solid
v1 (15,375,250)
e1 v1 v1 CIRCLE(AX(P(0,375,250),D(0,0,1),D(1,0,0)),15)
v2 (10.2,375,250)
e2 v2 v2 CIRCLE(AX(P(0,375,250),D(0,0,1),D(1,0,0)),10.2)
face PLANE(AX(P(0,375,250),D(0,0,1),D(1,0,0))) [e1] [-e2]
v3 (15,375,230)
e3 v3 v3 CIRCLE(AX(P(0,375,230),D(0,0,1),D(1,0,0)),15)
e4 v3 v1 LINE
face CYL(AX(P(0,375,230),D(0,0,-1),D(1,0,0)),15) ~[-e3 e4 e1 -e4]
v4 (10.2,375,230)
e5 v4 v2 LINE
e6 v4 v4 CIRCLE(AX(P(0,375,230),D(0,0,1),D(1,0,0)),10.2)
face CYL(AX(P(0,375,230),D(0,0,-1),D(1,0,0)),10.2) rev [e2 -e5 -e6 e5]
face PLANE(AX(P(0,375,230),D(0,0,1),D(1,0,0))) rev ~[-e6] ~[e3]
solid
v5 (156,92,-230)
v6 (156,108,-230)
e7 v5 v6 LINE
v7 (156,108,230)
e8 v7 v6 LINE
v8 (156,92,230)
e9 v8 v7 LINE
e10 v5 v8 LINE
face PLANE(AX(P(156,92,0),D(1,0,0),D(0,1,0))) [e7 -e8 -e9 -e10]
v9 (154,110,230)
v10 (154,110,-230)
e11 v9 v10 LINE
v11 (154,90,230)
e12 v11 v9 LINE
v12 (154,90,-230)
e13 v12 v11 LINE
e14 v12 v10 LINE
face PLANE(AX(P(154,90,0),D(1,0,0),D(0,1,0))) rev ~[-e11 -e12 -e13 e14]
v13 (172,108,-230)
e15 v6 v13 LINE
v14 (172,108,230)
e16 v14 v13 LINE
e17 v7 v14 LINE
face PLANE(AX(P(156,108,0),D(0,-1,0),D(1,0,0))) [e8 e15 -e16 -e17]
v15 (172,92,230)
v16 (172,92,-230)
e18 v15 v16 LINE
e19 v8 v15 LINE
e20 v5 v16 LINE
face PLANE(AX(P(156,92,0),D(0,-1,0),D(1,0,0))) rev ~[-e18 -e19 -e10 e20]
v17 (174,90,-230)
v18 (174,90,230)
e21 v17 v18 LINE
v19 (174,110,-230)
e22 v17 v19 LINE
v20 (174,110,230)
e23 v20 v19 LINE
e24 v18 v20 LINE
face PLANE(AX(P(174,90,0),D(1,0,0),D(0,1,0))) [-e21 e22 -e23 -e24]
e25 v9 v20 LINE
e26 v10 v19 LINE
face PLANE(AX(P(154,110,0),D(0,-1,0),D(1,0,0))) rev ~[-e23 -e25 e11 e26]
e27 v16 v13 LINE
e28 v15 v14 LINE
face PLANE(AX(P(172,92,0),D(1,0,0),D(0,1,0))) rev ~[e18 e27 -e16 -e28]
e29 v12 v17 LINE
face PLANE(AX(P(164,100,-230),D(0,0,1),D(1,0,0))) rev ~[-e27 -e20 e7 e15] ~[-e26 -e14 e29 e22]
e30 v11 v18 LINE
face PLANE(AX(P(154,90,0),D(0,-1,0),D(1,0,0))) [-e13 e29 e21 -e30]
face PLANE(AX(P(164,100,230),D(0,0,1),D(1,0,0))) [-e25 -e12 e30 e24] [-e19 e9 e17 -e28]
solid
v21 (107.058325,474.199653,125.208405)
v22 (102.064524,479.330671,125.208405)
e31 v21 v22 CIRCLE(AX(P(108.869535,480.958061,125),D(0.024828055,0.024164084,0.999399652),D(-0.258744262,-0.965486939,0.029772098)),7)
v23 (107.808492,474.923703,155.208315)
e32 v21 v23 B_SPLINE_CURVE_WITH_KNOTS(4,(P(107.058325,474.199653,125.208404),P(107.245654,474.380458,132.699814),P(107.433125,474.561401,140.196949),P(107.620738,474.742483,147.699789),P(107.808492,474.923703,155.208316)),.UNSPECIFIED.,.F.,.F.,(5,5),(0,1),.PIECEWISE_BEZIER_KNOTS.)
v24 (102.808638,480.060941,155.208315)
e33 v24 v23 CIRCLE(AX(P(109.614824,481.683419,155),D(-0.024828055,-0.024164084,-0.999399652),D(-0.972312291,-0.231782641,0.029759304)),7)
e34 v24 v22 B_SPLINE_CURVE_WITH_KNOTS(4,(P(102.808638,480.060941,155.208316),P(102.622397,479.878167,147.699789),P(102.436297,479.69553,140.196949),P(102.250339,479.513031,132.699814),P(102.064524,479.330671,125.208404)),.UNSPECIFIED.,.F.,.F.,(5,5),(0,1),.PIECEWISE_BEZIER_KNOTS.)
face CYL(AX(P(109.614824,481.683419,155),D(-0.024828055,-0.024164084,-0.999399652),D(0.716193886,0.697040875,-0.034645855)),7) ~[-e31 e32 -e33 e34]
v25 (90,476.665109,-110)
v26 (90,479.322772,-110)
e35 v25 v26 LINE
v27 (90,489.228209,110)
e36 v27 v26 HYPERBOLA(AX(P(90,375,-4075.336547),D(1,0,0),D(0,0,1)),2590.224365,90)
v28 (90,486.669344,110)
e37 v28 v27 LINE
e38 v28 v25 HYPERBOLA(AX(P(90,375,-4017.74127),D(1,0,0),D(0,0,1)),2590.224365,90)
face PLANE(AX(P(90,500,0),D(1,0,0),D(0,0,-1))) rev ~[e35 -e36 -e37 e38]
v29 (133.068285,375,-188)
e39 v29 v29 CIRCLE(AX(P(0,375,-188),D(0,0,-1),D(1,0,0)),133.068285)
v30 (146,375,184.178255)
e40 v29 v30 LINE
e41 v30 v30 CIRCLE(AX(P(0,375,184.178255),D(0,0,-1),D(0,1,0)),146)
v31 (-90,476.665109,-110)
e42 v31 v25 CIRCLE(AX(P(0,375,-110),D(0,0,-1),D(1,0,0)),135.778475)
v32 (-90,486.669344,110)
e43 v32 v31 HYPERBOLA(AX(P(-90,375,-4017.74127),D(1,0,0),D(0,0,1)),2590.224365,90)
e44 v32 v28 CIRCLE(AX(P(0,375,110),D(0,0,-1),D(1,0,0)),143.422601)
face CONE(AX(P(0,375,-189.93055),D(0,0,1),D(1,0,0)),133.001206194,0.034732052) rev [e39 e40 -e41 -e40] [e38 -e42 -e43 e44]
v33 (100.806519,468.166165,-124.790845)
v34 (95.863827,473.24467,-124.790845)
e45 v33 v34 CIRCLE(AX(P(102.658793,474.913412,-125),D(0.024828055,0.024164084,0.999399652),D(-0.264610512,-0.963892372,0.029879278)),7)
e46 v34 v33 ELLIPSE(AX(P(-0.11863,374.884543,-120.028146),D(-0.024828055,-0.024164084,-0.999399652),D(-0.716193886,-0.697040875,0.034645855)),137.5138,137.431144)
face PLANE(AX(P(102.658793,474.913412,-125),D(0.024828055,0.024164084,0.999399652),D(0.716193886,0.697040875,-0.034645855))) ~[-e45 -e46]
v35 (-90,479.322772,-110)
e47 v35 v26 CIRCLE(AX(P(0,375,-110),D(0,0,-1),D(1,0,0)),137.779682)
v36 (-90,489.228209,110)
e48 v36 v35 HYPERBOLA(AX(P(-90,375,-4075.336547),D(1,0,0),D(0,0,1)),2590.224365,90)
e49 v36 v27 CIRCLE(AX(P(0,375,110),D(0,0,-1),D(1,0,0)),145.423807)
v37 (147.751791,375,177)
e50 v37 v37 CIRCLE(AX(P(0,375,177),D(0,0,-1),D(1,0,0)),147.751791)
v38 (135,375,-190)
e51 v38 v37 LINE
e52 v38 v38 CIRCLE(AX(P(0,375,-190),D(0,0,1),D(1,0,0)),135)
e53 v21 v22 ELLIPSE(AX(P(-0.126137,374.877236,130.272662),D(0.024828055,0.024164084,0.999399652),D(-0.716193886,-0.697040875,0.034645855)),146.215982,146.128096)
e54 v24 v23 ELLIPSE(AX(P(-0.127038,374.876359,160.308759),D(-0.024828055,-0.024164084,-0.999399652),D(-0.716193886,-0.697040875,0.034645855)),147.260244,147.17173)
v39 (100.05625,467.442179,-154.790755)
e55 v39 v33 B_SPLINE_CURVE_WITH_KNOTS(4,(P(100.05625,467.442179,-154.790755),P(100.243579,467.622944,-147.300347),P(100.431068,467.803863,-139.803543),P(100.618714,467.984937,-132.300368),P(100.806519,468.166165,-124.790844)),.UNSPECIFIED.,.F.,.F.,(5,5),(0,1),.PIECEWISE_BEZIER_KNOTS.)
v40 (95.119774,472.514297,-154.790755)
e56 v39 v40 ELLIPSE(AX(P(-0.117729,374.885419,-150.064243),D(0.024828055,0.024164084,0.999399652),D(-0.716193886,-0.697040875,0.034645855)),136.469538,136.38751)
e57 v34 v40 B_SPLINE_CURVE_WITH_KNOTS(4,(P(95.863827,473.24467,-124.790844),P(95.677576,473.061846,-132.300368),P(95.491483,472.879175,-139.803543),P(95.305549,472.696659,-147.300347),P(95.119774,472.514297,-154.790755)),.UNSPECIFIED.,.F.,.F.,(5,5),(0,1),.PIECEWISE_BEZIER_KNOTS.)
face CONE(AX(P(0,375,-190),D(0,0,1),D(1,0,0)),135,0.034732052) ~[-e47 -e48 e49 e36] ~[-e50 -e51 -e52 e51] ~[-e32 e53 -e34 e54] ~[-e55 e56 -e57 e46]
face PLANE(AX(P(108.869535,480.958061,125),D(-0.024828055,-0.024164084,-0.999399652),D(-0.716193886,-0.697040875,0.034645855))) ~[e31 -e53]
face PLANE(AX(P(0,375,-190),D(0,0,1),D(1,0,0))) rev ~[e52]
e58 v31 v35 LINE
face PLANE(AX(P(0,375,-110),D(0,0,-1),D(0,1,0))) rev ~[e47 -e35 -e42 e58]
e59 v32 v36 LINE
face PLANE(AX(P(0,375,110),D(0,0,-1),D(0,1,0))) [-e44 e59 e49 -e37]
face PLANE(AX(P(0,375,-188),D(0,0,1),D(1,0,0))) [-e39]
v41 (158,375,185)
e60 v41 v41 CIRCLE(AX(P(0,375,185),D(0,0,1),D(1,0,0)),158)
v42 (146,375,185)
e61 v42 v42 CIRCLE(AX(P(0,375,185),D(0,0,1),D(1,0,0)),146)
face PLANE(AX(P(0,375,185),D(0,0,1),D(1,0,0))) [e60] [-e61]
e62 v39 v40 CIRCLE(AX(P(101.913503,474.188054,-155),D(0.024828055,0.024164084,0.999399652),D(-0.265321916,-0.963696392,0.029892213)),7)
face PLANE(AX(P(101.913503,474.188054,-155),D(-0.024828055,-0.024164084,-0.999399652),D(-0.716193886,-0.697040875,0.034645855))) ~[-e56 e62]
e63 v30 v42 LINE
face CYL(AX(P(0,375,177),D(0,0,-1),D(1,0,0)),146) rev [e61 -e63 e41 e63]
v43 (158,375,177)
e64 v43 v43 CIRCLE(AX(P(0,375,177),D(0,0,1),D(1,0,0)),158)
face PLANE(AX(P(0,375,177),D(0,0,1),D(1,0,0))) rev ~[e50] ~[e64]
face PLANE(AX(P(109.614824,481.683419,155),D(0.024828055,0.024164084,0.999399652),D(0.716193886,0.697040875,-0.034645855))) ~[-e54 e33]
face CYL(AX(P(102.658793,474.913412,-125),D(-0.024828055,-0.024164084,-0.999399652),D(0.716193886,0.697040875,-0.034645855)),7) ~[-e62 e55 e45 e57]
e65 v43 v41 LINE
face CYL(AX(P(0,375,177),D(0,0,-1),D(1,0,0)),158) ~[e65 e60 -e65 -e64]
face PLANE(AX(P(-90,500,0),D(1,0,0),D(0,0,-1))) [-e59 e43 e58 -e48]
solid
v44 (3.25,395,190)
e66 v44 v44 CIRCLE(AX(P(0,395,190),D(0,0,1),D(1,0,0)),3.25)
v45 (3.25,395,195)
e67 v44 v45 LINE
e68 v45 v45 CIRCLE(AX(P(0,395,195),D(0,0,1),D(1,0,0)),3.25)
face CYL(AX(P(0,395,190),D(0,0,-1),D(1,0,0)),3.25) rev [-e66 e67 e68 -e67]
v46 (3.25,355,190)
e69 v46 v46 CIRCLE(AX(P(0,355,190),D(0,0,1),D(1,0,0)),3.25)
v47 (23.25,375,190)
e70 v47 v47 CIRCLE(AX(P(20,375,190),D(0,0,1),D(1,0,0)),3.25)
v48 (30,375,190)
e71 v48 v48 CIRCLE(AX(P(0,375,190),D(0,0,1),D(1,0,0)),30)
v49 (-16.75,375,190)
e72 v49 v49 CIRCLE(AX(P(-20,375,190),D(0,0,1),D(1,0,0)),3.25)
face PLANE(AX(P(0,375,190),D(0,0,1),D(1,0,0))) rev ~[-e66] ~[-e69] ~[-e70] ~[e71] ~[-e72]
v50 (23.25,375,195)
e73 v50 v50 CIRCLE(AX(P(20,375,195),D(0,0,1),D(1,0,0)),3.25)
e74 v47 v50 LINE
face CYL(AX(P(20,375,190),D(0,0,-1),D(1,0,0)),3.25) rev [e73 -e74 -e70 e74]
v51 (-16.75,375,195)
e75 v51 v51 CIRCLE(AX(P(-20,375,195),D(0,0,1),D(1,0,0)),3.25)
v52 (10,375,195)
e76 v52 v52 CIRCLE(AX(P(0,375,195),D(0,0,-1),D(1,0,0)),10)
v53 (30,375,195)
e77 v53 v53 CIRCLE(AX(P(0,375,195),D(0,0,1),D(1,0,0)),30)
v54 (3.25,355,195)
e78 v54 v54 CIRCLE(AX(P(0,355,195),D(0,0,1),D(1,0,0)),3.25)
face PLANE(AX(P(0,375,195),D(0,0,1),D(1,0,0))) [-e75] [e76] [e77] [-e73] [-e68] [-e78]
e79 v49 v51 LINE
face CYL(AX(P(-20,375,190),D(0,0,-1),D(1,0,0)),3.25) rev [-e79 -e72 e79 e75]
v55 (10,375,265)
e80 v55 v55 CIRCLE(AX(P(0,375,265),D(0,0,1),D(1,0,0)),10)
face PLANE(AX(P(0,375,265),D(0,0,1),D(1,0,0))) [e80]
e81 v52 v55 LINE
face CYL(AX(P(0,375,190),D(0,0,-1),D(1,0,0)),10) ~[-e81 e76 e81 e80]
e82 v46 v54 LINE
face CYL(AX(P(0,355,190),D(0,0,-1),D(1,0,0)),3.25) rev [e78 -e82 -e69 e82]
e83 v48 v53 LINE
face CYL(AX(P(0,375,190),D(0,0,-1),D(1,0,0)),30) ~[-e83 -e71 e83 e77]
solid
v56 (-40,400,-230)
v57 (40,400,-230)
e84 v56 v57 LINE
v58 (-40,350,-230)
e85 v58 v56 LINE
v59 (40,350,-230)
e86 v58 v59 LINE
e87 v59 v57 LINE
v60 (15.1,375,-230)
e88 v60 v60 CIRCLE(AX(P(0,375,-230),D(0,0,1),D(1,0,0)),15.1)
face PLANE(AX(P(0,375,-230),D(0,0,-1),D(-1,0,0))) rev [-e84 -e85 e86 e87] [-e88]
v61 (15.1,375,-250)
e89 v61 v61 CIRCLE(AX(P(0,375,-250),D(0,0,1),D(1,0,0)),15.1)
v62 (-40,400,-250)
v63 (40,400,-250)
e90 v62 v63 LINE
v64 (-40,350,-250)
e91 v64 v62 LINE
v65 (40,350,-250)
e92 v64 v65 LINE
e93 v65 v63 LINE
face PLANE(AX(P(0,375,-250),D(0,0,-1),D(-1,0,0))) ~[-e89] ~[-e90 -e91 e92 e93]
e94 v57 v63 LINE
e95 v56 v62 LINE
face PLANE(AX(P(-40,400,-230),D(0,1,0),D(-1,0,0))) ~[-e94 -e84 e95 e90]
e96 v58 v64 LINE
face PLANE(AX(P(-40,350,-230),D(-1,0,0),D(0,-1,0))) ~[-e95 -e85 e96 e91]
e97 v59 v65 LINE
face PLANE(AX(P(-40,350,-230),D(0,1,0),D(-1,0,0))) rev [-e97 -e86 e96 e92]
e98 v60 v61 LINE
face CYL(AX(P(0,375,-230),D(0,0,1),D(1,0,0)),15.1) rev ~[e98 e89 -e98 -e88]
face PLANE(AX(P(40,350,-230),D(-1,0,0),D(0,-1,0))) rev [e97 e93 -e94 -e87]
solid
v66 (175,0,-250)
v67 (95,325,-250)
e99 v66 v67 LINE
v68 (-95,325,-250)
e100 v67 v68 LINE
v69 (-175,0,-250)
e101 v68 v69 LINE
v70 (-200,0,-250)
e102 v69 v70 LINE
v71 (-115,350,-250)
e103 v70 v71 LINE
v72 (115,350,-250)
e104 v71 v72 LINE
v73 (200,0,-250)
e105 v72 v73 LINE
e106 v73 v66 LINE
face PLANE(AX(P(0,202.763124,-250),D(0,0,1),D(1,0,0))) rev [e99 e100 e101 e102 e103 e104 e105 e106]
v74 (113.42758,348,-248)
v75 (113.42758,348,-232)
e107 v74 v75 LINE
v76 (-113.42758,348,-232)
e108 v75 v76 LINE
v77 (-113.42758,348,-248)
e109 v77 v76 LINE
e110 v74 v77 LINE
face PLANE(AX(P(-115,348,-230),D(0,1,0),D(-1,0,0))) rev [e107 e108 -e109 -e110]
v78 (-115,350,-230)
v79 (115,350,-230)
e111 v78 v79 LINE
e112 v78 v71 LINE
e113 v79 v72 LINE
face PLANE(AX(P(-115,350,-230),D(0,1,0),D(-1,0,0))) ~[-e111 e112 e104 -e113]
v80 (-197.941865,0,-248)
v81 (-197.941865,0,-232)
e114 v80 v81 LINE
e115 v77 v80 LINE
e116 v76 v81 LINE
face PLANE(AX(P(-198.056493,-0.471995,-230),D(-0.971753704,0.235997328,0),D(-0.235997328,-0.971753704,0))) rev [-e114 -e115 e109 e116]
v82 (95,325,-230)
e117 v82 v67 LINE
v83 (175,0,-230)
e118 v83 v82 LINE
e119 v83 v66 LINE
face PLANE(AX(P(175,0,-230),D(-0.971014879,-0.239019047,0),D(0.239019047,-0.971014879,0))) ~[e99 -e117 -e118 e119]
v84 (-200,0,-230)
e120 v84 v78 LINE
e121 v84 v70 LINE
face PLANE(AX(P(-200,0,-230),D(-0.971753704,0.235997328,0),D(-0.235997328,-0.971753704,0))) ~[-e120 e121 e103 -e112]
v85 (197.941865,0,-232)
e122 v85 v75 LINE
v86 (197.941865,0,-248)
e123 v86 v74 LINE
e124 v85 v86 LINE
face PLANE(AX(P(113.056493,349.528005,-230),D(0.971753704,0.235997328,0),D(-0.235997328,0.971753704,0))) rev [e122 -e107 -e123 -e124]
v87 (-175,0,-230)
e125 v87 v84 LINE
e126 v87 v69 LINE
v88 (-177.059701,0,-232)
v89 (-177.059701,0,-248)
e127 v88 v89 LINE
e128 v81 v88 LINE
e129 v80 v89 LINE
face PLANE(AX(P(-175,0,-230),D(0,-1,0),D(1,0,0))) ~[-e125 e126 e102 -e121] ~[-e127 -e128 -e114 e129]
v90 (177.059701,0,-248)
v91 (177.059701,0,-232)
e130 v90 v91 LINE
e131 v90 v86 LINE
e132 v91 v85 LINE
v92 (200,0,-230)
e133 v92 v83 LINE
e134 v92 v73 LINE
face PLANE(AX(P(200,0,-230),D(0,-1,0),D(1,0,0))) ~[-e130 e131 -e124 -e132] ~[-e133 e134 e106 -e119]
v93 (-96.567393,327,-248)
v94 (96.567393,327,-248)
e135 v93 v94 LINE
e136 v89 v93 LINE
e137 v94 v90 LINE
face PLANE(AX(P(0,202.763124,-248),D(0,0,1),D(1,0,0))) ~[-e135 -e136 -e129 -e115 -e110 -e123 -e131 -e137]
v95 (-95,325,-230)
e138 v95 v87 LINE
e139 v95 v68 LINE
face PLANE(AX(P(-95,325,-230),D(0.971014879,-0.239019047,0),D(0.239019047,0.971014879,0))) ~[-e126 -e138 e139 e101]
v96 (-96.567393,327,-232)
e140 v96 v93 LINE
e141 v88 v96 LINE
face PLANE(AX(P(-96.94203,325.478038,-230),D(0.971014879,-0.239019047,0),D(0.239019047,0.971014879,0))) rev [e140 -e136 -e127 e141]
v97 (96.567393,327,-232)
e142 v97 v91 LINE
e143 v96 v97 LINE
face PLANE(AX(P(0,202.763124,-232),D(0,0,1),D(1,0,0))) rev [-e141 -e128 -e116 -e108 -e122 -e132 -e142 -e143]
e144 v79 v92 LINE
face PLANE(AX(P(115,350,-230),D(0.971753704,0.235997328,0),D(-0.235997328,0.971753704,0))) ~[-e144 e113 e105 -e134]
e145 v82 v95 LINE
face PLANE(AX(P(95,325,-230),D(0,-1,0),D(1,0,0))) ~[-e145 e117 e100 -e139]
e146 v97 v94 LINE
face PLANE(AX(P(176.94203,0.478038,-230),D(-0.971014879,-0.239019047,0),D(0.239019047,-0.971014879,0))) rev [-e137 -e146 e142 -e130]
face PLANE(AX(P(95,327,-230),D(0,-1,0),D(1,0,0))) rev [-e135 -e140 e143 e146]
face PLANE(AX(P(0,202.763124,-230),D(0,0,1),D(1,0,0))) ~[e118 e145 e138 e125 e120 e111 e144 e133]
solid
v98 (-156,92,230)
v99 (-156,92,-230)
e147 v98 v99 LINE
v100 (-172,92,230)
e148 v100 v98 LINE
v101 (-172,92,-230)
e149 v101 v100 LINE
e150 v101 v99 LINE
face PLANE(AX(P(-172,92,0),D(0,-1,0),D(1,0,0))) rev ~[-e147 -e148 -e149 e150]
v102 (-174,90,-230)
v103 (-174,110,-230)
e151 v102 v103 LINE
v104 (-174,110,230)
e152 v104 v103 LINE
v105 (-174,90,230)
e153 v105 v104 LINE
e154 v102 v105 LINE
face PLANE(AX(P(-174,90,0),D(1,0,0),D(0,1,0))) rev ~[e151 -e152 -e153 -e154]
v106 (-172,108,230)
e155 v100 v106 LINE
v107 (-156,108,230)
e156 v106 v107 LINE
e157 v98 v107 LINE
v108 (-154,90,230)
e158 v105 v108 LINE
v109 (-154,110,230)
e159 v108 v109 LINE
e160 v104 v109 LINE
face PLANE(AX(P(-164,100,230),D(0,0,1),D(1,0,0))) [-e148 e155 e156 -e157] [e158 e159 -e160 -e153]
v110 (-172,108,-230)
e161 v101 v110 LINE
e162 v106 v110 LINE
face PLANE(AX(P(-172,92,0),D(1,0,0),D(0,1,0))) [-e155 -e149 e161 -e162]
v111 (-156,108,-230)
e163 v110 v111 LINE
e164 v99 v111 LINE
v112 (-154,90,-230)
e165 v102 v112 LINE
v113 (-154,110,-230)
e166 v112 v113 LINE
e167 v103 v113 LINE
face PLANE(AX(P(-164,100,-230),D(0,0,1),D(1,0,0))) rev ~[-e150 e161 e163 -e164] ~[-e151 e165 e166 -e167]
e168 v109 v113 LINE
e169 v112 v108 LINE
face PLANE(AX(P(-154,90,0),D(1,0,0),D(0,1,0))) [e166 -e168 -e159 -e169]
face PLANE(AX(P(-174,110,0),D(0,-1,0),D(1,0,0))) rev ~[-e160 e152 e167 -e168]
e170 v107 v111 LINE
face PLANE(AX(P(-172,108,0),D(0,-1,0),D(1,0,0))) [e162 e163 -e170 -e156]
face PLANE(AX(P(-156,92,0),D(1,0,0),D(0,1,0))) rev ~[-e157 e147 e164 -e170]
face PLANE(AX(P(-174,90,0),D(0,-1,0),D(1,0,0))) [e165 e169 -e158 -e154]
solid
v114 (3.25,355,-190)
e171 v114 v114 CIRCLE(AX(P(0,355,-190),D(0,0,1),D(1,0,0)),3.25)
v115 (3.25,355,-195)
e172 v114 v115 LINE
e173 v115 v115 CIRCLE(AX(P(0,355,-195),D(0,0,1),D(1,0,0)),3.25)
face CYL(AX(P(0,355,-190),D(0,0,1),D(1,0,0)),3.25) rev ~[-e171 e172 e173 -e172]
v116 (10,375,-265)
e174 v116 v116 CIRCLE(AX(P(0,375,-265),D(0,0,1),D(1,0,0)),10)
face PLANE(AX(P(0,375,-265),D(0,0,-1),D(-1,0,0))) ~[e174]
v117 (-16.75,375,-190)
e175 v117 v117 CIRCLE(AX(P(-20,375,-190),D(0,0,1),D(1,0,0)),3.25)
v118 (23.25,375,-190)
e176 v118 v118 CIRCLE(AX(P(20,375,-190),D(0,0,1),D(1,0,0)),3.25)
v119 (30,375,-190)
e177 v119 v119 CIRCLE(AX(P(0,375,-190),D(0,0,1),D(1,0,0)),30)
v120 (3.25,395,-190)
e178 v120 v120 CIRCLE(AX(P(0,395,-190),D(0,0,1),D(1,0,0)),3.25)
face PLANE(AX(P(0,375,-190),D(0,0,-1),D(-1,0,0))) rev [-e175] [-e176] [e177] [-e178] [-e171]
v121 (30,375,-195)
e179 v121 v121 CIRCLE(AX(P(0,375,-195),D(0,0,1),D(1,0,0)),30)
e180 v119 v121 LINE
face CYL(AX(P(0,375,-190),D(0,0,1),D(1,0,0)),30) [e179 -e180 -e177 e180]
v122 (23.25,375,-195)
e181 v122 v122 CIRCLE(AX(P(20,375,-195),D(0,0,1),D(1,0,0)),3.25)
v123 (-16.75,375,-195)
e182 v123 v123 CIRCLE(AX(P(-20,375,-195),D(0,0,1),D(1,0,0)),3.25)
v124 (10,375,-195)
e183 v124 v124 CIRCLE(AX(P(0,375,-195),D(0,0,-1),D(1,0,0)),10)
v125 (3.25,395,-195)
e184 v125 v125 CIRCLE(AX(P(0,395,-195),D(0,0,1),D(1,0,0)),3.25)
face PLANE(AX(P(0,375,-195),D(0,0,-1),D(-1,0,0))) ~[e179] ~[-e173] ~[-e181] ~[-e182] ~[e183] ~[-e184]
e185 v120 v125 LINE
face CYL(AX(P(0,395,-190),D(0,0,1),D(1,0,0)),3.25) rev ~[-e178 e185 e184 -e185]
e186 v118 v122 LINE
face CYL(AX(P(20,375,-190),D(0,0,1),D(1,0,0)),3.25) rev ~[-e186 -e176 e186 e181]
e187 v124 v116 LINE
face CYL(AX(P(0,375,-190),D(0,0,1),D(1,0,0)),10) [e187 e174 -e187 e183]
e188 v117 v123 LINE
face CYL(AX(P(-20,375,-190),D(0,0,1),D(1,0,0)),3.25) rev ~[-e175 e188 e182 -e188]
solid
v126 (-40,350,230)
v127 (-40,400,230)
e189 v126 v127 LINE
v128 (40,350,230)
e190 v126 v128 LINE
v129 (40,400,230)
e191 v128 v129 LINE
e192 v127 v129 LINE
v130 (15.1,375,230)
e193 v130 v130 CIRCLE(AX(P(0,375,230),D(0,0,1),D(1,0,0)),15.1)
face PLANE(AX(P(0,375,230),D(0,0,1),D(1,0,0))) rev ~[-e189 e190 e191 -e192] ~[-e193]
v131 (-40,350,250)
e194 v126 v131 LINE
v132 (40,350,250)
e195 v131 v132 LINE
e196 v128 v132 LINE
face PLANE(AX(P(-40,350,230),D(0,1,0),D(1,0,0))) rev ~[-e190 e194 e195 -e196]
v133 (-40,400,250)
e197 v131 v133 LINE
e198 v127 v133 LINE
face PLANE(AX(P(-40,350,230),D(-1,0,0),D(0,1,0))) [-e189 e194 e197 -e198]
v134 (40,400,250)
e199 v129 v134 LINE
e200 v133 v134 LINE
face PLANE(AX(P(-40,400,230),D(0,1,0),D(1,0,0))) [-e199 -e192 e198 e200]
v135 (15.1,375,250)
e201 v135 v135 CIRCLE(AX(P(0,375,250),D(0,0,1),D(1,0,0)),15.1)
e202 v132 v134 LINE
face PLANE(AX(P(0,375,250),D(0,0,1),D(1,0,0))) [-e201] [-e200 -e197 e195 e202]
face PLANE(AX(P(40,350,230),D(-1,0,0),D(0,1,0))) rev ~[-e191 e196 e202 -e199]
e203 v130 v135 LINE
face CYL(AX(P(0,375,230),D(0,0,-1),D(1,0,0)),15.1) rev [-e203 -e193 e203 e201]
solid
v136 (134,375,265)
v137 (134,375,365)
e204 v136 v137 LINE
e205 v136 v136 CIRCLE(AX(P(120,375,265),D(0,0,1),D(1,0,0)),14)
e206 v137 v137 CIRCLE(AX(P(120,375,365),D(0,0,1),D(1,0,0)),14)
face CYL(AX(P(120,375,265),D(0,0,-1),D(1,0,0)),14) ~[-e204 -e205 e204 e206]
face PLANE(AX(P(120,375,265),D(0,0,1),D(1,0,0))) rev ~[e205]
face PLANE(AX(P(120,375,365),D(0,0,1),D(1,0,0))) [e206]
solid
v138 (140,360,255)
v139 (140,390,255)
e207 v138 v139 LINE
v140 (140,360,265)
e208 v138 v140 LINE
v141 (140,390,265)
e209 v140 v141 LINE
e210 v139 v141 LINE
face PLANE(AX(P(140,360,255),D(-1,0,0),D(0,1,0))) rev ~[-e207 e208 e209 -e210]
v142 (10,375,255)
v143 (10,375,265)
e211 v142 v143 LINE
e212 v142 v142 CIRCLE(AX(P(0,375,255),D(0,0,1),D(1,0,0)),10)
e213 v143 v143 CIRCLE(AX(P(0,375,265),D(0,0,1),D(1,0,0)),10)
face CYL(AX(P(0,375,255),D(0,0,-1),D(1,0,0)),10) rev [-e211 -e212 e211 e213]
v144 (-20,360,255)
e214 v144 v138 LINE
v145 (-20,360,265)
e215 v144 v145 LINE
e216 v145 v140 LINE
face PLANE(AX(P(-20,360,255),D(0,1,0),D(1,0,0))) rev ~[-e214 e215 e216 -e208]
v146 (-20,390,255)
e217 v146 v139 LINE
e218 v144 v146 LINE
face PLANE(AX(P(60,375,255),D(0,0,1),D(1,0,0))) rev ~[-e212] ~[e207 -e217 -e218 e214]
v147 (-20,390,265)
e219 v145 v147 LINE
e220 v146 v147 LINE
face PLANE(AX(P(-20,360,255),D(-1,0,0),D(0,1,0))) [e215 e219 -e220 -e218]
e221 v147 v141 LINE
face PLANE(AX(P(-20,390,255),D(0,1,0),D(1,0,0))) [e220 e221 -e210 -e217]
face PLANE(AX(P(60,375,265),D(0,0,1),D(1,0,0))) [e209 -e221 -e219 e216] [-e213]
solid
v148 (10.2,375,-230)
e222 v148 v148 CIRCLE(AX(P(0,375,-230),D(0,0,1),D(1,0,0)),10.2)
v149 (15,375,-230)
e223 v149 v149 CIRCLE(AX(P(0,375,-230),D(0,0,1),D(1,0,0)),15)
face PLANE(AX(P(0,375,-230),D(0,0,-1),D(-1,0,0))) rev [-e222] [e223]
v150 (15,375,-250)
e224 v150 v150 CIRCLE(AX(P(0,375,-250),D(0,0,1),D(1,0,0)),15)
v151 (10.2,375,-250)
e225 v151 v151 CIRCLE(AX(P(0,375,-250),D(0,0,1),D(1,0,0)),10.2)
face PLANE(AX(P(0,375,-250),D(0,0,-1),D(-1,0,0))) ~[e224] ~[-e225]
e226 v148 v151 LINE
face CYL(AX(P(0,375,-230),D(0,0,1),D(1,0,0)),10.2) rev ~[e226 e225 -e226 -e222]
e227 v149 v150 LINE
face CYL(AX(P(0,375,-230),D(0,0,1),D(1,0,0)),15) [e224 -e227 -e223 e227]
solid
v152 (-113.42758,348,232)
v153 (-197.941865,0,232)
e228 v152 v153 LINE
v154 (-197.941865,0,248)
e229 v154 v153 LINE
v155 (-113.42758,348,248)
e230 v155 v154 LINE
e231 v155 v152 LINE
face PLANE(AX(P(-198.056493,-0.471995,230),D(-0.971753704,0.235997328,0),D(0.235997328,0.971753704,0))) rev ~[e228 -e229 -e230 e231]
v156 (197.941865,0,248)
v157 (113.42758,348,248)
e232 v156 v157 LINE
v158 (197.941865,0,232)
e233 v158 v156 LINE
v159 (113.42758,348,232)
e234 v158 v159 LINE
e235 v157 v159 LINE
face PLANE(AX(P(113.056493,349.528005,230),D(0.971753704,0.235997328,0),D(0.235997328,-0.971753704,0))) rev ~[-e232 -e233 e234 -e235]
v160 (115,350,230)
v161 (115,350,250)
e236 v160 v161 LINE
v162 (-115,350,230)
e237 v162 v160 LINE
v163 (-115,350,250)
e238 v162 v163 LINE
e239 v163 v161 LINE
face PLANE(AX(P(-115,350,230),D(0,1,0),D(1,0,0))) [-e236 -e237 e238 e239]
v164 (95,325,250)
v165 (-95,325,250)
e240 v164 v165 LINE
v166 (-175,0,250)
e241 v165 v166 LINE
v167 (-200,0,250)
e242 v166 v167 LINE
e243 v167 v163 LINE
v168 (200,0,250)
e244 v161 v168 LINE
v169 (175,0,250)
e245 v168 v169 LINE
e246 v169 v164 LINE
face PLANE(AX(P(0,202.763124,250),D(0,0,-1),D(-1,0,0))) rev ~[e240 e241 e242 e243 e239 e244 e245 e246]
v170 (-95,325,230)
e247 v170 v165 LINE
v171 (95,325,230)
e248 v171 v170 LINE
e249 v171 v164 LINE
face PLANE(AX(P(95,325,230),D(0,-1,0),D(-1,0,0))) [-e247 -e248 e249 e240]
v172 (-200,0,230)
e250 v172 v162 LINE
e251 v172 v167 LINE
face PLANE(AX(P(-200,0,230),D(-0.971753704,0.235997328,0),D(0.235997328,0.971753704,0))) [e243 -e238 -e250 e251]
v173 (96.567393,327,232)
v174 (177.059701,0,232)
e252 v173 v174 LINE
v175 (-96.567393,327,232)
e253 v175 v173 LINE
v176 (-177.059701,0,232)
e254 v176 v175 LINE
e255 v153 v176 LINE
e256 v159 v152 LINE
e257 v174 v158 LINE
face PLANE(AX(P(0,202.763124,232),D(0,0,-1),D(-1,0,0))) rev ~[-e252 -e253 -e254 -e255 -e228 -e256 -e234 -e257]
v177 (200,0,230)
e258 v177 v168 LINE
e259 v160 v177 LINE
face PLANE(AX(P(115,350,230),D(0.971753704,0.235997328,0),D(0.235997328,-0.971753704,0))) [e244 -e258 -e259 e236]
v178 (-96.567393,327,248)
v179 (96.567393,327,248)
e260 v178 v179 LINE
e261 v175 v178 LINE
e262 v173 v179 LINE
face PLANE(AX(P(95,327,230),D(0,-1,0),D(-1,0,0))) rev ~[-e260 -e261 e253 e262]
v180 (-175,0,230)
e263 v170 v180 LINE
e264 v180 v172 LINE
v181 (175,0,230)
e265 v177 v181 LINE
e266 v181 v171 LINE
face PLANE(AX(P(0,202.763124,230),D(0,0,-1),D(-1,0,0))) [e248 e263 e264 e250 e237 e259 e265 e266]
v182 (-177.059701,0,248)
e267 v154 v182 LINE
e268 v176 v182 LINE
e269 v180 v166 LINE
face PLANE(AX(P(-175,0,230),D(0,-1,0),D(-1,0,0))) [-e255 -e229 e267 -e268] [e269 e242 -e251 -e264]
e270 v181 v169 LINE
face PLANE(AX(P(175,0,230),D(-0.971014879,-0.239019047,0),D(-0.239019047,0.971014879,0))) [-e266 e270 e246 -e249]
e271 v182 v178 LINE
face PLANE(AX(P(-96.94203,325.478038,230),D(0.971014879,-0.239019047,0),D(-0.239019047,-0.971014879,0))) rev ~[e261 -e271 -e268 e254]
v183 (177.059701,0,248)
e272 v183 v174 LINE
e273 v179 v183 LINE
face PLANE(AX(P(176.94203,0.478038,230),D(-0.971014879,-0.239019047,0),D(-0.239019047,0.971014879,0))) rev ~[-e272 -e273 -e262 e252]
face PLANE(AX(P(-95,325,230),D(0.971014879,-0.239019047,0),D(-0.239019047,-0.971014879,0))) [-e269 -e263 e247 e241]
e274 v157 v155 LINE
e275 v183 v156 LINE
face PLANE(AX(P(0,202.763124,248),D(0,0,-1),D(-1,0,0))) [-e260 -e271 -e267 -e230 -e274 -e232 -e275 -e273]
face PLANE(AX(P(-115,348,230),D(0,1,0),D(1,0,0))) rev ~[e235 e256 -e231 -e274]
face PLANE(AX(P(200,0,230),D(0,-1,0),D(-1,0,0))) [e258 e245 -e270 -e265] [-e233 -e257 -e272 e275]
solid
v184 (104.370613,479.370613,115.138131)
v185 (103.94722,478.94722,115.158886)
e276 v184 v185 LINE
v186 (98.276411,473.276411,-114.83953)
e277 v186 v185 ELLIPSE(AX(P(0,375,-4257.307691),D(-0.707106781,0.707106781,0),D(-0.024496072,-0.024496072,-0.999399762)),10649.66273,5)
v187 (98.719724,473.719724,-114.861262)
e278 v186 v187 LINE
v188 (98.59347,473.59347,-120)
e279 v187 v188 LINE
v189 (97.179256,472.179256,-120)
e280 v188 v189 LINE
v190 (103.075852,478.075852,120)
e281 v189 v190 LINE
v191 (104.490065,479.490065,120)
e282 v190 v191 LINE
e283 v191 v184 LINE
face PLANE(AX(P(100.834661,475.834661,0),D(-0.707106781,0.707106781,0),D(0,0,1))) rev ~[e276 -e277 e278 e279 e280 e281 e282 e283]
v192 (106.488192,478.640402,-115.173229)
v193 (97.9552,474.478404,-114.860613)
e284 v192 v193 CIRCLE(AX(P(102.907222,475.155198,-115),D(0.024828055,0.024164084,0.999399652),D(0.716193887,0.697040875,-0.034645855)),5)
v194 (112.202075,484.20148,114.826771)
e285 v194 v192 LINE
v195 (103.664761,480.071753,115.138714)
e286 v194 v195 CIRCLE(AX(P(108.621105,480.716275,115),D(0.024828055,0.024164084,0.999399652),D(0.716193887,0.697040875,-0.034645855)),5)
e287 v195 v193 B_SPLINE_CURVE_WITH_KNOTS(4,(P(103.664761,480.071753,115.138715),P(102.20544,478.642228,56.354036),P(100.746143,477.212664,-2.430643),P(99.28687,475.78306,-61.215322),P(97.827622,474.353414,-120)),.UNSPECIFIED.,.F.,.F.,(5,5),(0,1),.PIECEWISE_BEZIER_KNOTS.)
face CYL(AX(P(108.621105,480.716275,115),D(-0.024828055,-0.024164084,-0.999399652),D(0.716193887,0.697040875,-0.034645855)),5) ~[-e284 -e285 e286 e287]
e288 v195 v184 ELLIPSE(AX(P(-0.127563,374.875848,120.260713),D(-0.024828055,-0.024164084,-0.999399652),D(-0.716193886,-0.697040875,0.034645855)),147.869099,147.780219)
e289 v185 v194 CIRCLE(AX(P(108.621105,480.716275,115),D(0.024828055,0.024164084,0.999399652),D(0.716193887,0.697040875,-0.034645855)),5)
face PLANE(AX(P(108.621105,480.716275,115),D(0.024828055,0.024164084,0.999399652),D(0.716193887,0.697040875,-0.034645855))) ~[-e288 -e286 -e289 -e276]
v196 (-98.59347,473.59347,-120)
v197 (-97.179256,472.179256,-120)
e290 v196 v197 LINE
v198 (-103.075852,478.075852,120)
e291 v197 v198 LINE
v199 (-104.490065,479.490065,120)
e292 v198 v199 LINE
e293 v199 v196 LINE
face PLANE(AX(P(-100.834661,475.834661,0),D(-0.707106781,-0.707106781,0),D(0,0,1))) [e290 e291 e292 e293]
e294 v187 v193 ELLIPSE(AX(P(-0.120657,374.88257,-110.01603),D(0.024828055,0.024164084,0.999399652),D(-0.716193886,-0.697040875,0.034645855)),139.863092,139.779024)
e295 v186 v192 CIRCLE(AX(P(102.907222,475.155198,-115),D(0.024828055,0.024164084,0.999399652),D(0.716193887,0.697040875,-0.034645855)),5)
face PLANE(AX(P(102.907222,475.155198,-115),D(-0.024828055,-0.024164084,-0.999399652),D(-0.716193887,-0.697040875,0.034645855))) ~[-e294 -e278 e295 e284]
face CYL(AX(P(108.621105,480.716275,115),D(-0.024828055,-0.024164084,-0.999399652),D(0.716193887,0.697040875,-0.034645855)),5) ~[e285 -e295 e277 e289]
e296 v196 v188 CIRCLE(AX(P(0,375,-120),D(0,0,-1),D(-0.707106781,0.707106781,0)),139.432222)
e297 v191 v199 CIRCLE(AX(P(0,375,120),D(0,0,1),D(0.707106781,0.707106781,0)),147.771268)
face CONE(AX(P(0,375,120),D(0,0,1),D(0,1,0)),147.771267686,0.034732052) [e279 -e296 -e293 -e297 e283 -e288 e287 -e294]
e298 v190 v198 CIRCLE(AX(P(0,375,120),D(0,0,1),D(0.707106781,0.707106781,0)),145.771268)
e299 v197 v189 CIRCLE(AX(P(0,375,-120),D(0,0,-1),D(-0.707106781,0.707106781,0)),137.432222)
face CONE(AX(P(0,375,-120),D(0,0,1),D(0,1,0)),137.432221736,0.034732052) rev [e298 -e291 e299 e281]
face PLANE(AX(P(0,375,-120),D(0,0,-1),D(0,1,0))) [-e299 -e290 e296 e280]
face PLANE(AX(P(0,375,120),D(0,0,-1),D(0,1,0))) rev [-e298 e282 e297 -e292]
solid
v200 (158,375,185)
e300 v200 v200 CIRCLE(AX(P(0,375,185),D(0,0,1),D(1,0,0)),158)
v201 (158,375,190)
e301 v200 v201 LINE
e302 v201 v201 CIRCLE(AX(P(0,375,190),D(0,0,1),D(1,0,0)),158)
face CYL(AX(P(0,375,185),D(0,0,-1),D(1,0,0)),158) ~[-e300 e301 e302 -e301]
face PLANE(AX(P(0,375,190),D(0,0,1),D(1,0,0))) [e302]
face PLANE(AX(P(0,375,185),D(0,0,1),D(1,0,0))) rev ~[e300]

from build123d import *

# Parameters (mm, degrees)
RIGHT_SUPPORT_BLANK_START         = 230
RIGHT_SUPPORT_BLANK_DEPTH         = 20
HOLLOW_SUPPORT_2MM_T              = -2
F_20L_TAPERED_PAIL_BLANK_START    = -190
PAIL_BASE_PROFILE_R               = 135
F_20L_TAPERED_PAIL_BLANK_DEPTH    = 375
F_20L_TAPERED_PAIL_BLANK_DRAFT    = -1.99
F_20L_PAIL_PLASTIC_WALL_T         = -2
PAIL_REINFORCED_RIM_START         = 177
PAIL_RIM_PROFILE_R                = 158
PAIL_RIM_PROFILE_R_2              = 146
PAIL_REINFORCED_RIM_DEPTH         = 8
F_20L_PAIL_REMOVABLE_LID_START    = 185
ROUND_LID_PROFILE_R               = 158
F_20L_PAIL_REMOVABLE_LID_DEPTH    = 5
FRONT_BEARING_BLOCK_START         = 230
BEARING_BLOCK_PROFILE_W           = 80
BEARING_BLOCK_PROFILE_H           = 50
BEARING_BLOCK_PROFILE_R           = 15.1
FRONT_BEARING_BLOCK_DEPTH         = 20
FRONT_PLAIN_BUSH_START            = 230
PLAIN_BUSH_PROFILE_R              = 15
PLAIN_BUSH_PROFILE_R_2            = 10.2
FRONT_PLAIN_BUSH_DEPTH            = 20
LONGITUDINAL_BRACES_PROFILE_W     = 20
LONGITUDINAL_BRACES_PROFILE_H     = 20
LONGITUDINAL_BRACES_PROFILE_W_2   = 16
LONGITUDINAL_BRACES_PROFILE_H_2   = 16
FRAME_LONGITUDINAL_BRACES_DEPTH   = 230
FRAME_LONGITUDINAL_BRACES_2_DEPTH = 230
FRONT_CAGE_END_DISC_START         = 190
CAGE_END_DISC_PROFILE_R           = 30
CAGE_END_DISC_PROFILE_R_2         = 3.25
FRONT_CAGE_END_DISC_DEPTH         = 5
FRONT_ROTOR_STUB_START            = 190
ROTOR_STUB_PROFILE_R              = 10
FRONT_ROTOR_STUB_DEPTH            = 75
LOADING_OPENING_PROFILE_W         = 220
LOADING_OPENING_PROFILE_H         = 250
TOP_LOADING_OPENING_DEPTH         = 90
CRANK_ARM_START                   = 255
CRANK_ARM_PROFILE_W               = 160
CRANK_ARM_PROFILE_H               = 30
CRANK_ARM_PROFILE_R               = 10
CRANK_ARM_DEPTH                   = 10
ROTATING_CRANK_GRIP_START         = 265
CRANK_GRIP_PROFILE_R              = 14
ROTATING_CRANK_GRIP_DEPTH         = 100
CURVED_FOLDING_LID_ANGLE          = 90


with BuildPart() as part:
    # Support_Profile → Right_Support_Blank (new body)
    with BuildSketch(Plane.XY.offset(RIGHT_SUPPORT_BLANK_START)):
        Polygon((-200, 0), (-115, 350), (115, 350), (200, 0), (175, 0), (95, 325), (-95, 325), (-175, 0), align=None)
    extrude(amount=RIGHT_SUPPORT_BLANK_DEPTH)

    # Hollow_Support_2mm
    hollow_support_2mm_openings = [part.faces().sort_by_distance(p)[0] for p in [
        (187.5, 0, 240),
        (-187.5, 0, 240),
    ]]
    offset(amount=HOLLOW_SUPPORT_2MM_T, openings=hollow_support_2mm_openings, kind=Kind.INTERSECTION)


with BuildPart() as body_2:
    # Matching_Left_Support: mirrored copy
    add(part.part.mirror(Plane.XY))


with BuildPart() as body_3:
    # Pail_Base_Profile → 20L_Tapered_Pail_Blank (with draft: the straight prism first)
    with BuildSketch(Plane.XY.offset(F_20L_TAPERED_PAIL_BLANK_START)):
        with Locations((0, 375)):
            Circle(PAIL_BASE_PROFILE_R)
    extrude(amount=F_20L_TAPERED_PAIL_BLANK_DEPTH)
    # 20L_Tapered_Pail_Blank: the draft: its side faces are tilted about the plane it starts from
    f_20l_tapered_pail_blank_sides = [body_3.faces().sort_by_distance(p)[0] for p in [
        (-135, 375, -2.5),
    ]]
    draft(f_20l_tapered_pail_blank_sides, Plane.XY.offset(F_20L_TAPERED_PAIL_BLANK_START), F_20L_TAPERED_PAIL_BLANK_DRAFT)

    # 20L_Pail_Plastic_Wall
    f_20l_pail_plastic_wall_openings = [body_3.faces().sort_by_distance(p)[0] for p in [
        (0, 375, 185),
    ]]
    offset(amount=F_20L_PAIL_PLASTIC_WALL_T, openings=f_20l_pail_plastic_wall_openings, kind=Kind.INTERSECTION)

    # Pail_Rim_Profile → Pail_Reinforced_Rim (add)
    with BuildSketch(Plane.XY.offset(PAIL_REINFORCED_RIM_START)):
        with Locations((0, 375)):
            Circle(PAIL_RIM_PROFILE_R)
        with Locations((0, 375)):
            Circle(PAIL_RIM_PROFILE_R_2, mode=Mode.SUBTRACT)
    extrude(amount=PAIL_REINFORCED_RIM_DEPTH)

    # Loading_Opening_Profile → Top_Loading_Opening (cut, symmetric)
    with BuildSketch(Plane(origin=(0, 0, 0), x_dir=(0, 0, -1), z_dir=(1, 0, 0))):
        with Locations((0, 500)):
            Rectangle(LOADING_OPENING_PROFILE_W, LOADING_OPENING_PROFILE_H)
    extrude(amount=TOP_LOADING_OPENING_DEPTH, both=True, mode=Mode.SUBTRACT)

    # Drum_Hinge_Knuckle_Profile → Drum_Hinge_Knuckles (revolve)
    with BuildSketch(Plane(origin=(-187.431135244, 192.581293243, 0), x_dir=(0, 0, -1), z_dir=(0.6974595935863168, -0.7166241101961404, 0))):
        Polygon((155, 403.760680928), (125, 404.800680929), (125.242520982, 411.796478494), (155.242520982, 410.756478494), align=None)
        Polygon((-125, 413.467347597), (-155, 414.507347597), (-154.757479018, 421.503145162), (-124.757479018, 420.463145162), align=None)
    revolve(axis=Axis((101.540858921, 473.825374681, -170), (0.024828054735644017, 0.024164083679408414, 0.9993996521702309)))


with BuildPart() as body_4:
    # Round_Lid_Profile → 20L_Pail_Removable_Lid (new body)
    with BuildSketch(Plane.XY.offset(F_20L_PAIL_REMOVABLE_LID_START)):
        with Locations((0, 375)):
            Circle(ROUND_LID_PROFILE_R)
    extrude(amount=F_20L_PAIL_REMOVABLE_LID_DEPTH)


with BuildPart() as body_5:
    # Bearing_Block_Profile → Front_Bearing_Block (new body)
    with BuildSketch(Plane.XY.offset(FRONT_BEARING_BLOCK_START)):
        with Locations((0, 375)):
            Rectangle(BEARING_BLOCK_PROFILE_W, BEARING_BLOCK_PROFILE_H)
        with Locations((0, 375)):
            Circle(BEARING_BLOCK_PROFILE_R, mode=Mode.SUBTRACT)
    extrude(amount=FRONT_BEARING_BLOCK_DEPTH)


with BuildPart() as body_6:
    # Plain_Bush_Profile → Front_Plain_Bush (new body)
    with BuildSketch(Plane.XY.offset(FRONT_PLAIN_BUSH_START)):
        with Locations((0, 375)):
            Circle(PLAIN_BUSH_PROFILE_R)
        with Locations((0, 375)):
            Circle(PLAIN_BUSH_PROFILE_R_2, mode=Mode.SUBTRACT)
    extrude(amount=FRONT_PLAIN_BUSH_DEPTH)


with BuildPart() as body_7:
    # Rear_Bearing_Set: mirrored copy
    add(body_6.part.mirror(Plane.XY))


with BuildPart() as body_8:
    # Rear_Bearing_Set 2: mirrored copy
    add(body_5.part.mirror(Plane.XY))


with BuildPart() as body_9:
    # Longitudinal_Braces_Profile → Frame_Longitudinal_Braces (new, symmetric)
    with BuildSketch(Plane.XY):
        with Locations((-164, 100)):
            Rectangle(LONGITUDINAL_BRACES_PROFILE_W, LONGITUDINAL_BRACES_PROFILE_H)
        with Locations((-164, 100)):
            Rectangle(LONGITUDINAL_BRACES_PROFILE_W_2, LONGITUDINAL_BRACES_PROFILE_H_2, mode=Mode.SUBTRACT)
    extrude(amount=FRAME_LONGITUDINAL_BRACES_DEPTH, both=True)


with BuildPart() as body_10:
    # Longitudinal_Braces_Profile → Frame_Longitudinal_Braces 2 (new, symmetric)
    with BuildSketch(Plane.XY):
        with Locations((164, 100)):
            Rectangle(LONGITUDINAL_BRACES_PROFILE_W, LONGITUDINAL_BRACES_PROFILE_H)
        with Locations((164, 100)):
            Rectangle(LONGITUDINAL_BRACES_PROFILE_W_2, LONGITUDINAL_BRACES_PROFILE_H_2, mode=Mode.SUBTRACT)
    extrude(amount=FRAME_LONGITUDINAL_BRACES_2_DEPTH, both=True)


with BuildPart() as body_11:
    # Cage_End_Disc_Profile → Front_Cage_End_Disc (new body)
    with BuildSketch(Plane.XY.offset(FRONT_CAGE_END_DISC_START)):
        with Locations((0, 375)):
            Circle(CAGE_END_DISC_PROFILE_R)
        with Locations((20, 375)):
            Circle(CAGE_END_DISC_PROFILE_R_2, mode=Mode.SUBTRACT)
        with Locations((0, 395)):
            Circle(CAGE_END_DISC_PROFILE_R_2, mode=Mode.SUBTRACT)
        with Locations((-20, 375)):
            Circle(CAGE_END_DISC_PROFILE_R_2, mode=Mode.SUBTRACT)
        with Locations((0, 355)):
            Circle(CAGE_END_DISC_PROFILE_R_2, mode=Mode.SUBTRACT)
    extrude(amount=FRONT_CAGE_END_DISC_DEPTH)

    # Rotor_Stub_Profile → Front_Rotor_Stub (add)
    with BuildSketch(Plane.XY.offset(FRONT_ROTOR_STUB_START)):
        with Locations((0, 375)):
            Circle(ROTOR_STUB_PROFILE_R)
    extrude(amount=FRONT_ROTOR_STUB_DEPTH)


with BuildPart() as body_12:
    # Rear_Cage_End_And_Stub: mirrored copy
    add(body_11.part.mirror(Plane.XY))


with BuildPart() as body_13:
    # Crank_Arm_Profile → Crank_Arm (new body)
    with BuildSketch(Plane.XY.offset(CRANK_ARM_START)):
        with Locations((60, 375)):
            Rectangle(CRANK_ARM_PROFILE_W, CRANK_ARM_PROFILE_H)
        with Locations((0, 375)):
            Circle(CRANK_ARM_PROFILE_R, mode=Mode.SUBTRACT)
    extrude(amount=CRANK_ARM_DEPTH)


with BuildPart() as body_14:
    # Crank_Grip_Profile → Rotating_Crank_Grip (new body)
    with BuildSketch(Plane.XY.offset(ROTATING_CRANK_GRIP_START)):
        with Locations((120, 375)):
            Circle(CRANK_GRIP_PROFILE_R)
    extrude(amount=ROTATING_CRANK_GRIP_DEPTH)


with BuildPart() as body_15:
    # Folding_Lid_Profile → Curved_Folding_Lid (revolve, symmetric)
    with BuildSketch(Plane(origin=(0, 0, 0), x_dir=(0, 0, -1), z_dir=(1, 0, 0))) as curved_folding_lid_sk:
        Polygon((120, 512.432221736), (-120, 520.771267686), (-120, 522.771267686), (120, 514.432221736), align=None)
    revolve(axis=Axis((0, 375, -200), (0, 0, 1)), revolution_arc=CURVED_FOLDING_LID_ANGLE / 2)
    revolve(curved_folding_lid_sk.sketch, axis=Axis((0, 375, -200), (0, 0, -1)), revolution_arc=CURVED_FOLDING_LID_ANGLE / 2)

    # Lid_Hinge_Barrel_Profile → Lid_Hinge_Barrel (revolve)
    with BuildSketch(Plane(origin=(-187.431135244, 192.581293243, 0), x_dir=(0, 0, -1), z_dir=(0.6974595935863168, -0.7166241101961404, 0))):
        Polygon((115, 405.147347595), (-115, 413.12068093), (-114.826770727, 418.117679191), (115.173229273, 410.144345856), align=None)
    revolve(axis=Axis((101.540858921, 473.825374681, -170), (0.024828054735644017, 0.024164083679408414, 0.9993996521702309)))


solid = Compound([part.part, body_2.part, body_3.part, body_4.part, body_5.part, body_6.part, body_7.part, body_8.part, body_9.part, body_10.part, body_11.part, body_12.part, body_13.part, body_14.part, body_15.part])
